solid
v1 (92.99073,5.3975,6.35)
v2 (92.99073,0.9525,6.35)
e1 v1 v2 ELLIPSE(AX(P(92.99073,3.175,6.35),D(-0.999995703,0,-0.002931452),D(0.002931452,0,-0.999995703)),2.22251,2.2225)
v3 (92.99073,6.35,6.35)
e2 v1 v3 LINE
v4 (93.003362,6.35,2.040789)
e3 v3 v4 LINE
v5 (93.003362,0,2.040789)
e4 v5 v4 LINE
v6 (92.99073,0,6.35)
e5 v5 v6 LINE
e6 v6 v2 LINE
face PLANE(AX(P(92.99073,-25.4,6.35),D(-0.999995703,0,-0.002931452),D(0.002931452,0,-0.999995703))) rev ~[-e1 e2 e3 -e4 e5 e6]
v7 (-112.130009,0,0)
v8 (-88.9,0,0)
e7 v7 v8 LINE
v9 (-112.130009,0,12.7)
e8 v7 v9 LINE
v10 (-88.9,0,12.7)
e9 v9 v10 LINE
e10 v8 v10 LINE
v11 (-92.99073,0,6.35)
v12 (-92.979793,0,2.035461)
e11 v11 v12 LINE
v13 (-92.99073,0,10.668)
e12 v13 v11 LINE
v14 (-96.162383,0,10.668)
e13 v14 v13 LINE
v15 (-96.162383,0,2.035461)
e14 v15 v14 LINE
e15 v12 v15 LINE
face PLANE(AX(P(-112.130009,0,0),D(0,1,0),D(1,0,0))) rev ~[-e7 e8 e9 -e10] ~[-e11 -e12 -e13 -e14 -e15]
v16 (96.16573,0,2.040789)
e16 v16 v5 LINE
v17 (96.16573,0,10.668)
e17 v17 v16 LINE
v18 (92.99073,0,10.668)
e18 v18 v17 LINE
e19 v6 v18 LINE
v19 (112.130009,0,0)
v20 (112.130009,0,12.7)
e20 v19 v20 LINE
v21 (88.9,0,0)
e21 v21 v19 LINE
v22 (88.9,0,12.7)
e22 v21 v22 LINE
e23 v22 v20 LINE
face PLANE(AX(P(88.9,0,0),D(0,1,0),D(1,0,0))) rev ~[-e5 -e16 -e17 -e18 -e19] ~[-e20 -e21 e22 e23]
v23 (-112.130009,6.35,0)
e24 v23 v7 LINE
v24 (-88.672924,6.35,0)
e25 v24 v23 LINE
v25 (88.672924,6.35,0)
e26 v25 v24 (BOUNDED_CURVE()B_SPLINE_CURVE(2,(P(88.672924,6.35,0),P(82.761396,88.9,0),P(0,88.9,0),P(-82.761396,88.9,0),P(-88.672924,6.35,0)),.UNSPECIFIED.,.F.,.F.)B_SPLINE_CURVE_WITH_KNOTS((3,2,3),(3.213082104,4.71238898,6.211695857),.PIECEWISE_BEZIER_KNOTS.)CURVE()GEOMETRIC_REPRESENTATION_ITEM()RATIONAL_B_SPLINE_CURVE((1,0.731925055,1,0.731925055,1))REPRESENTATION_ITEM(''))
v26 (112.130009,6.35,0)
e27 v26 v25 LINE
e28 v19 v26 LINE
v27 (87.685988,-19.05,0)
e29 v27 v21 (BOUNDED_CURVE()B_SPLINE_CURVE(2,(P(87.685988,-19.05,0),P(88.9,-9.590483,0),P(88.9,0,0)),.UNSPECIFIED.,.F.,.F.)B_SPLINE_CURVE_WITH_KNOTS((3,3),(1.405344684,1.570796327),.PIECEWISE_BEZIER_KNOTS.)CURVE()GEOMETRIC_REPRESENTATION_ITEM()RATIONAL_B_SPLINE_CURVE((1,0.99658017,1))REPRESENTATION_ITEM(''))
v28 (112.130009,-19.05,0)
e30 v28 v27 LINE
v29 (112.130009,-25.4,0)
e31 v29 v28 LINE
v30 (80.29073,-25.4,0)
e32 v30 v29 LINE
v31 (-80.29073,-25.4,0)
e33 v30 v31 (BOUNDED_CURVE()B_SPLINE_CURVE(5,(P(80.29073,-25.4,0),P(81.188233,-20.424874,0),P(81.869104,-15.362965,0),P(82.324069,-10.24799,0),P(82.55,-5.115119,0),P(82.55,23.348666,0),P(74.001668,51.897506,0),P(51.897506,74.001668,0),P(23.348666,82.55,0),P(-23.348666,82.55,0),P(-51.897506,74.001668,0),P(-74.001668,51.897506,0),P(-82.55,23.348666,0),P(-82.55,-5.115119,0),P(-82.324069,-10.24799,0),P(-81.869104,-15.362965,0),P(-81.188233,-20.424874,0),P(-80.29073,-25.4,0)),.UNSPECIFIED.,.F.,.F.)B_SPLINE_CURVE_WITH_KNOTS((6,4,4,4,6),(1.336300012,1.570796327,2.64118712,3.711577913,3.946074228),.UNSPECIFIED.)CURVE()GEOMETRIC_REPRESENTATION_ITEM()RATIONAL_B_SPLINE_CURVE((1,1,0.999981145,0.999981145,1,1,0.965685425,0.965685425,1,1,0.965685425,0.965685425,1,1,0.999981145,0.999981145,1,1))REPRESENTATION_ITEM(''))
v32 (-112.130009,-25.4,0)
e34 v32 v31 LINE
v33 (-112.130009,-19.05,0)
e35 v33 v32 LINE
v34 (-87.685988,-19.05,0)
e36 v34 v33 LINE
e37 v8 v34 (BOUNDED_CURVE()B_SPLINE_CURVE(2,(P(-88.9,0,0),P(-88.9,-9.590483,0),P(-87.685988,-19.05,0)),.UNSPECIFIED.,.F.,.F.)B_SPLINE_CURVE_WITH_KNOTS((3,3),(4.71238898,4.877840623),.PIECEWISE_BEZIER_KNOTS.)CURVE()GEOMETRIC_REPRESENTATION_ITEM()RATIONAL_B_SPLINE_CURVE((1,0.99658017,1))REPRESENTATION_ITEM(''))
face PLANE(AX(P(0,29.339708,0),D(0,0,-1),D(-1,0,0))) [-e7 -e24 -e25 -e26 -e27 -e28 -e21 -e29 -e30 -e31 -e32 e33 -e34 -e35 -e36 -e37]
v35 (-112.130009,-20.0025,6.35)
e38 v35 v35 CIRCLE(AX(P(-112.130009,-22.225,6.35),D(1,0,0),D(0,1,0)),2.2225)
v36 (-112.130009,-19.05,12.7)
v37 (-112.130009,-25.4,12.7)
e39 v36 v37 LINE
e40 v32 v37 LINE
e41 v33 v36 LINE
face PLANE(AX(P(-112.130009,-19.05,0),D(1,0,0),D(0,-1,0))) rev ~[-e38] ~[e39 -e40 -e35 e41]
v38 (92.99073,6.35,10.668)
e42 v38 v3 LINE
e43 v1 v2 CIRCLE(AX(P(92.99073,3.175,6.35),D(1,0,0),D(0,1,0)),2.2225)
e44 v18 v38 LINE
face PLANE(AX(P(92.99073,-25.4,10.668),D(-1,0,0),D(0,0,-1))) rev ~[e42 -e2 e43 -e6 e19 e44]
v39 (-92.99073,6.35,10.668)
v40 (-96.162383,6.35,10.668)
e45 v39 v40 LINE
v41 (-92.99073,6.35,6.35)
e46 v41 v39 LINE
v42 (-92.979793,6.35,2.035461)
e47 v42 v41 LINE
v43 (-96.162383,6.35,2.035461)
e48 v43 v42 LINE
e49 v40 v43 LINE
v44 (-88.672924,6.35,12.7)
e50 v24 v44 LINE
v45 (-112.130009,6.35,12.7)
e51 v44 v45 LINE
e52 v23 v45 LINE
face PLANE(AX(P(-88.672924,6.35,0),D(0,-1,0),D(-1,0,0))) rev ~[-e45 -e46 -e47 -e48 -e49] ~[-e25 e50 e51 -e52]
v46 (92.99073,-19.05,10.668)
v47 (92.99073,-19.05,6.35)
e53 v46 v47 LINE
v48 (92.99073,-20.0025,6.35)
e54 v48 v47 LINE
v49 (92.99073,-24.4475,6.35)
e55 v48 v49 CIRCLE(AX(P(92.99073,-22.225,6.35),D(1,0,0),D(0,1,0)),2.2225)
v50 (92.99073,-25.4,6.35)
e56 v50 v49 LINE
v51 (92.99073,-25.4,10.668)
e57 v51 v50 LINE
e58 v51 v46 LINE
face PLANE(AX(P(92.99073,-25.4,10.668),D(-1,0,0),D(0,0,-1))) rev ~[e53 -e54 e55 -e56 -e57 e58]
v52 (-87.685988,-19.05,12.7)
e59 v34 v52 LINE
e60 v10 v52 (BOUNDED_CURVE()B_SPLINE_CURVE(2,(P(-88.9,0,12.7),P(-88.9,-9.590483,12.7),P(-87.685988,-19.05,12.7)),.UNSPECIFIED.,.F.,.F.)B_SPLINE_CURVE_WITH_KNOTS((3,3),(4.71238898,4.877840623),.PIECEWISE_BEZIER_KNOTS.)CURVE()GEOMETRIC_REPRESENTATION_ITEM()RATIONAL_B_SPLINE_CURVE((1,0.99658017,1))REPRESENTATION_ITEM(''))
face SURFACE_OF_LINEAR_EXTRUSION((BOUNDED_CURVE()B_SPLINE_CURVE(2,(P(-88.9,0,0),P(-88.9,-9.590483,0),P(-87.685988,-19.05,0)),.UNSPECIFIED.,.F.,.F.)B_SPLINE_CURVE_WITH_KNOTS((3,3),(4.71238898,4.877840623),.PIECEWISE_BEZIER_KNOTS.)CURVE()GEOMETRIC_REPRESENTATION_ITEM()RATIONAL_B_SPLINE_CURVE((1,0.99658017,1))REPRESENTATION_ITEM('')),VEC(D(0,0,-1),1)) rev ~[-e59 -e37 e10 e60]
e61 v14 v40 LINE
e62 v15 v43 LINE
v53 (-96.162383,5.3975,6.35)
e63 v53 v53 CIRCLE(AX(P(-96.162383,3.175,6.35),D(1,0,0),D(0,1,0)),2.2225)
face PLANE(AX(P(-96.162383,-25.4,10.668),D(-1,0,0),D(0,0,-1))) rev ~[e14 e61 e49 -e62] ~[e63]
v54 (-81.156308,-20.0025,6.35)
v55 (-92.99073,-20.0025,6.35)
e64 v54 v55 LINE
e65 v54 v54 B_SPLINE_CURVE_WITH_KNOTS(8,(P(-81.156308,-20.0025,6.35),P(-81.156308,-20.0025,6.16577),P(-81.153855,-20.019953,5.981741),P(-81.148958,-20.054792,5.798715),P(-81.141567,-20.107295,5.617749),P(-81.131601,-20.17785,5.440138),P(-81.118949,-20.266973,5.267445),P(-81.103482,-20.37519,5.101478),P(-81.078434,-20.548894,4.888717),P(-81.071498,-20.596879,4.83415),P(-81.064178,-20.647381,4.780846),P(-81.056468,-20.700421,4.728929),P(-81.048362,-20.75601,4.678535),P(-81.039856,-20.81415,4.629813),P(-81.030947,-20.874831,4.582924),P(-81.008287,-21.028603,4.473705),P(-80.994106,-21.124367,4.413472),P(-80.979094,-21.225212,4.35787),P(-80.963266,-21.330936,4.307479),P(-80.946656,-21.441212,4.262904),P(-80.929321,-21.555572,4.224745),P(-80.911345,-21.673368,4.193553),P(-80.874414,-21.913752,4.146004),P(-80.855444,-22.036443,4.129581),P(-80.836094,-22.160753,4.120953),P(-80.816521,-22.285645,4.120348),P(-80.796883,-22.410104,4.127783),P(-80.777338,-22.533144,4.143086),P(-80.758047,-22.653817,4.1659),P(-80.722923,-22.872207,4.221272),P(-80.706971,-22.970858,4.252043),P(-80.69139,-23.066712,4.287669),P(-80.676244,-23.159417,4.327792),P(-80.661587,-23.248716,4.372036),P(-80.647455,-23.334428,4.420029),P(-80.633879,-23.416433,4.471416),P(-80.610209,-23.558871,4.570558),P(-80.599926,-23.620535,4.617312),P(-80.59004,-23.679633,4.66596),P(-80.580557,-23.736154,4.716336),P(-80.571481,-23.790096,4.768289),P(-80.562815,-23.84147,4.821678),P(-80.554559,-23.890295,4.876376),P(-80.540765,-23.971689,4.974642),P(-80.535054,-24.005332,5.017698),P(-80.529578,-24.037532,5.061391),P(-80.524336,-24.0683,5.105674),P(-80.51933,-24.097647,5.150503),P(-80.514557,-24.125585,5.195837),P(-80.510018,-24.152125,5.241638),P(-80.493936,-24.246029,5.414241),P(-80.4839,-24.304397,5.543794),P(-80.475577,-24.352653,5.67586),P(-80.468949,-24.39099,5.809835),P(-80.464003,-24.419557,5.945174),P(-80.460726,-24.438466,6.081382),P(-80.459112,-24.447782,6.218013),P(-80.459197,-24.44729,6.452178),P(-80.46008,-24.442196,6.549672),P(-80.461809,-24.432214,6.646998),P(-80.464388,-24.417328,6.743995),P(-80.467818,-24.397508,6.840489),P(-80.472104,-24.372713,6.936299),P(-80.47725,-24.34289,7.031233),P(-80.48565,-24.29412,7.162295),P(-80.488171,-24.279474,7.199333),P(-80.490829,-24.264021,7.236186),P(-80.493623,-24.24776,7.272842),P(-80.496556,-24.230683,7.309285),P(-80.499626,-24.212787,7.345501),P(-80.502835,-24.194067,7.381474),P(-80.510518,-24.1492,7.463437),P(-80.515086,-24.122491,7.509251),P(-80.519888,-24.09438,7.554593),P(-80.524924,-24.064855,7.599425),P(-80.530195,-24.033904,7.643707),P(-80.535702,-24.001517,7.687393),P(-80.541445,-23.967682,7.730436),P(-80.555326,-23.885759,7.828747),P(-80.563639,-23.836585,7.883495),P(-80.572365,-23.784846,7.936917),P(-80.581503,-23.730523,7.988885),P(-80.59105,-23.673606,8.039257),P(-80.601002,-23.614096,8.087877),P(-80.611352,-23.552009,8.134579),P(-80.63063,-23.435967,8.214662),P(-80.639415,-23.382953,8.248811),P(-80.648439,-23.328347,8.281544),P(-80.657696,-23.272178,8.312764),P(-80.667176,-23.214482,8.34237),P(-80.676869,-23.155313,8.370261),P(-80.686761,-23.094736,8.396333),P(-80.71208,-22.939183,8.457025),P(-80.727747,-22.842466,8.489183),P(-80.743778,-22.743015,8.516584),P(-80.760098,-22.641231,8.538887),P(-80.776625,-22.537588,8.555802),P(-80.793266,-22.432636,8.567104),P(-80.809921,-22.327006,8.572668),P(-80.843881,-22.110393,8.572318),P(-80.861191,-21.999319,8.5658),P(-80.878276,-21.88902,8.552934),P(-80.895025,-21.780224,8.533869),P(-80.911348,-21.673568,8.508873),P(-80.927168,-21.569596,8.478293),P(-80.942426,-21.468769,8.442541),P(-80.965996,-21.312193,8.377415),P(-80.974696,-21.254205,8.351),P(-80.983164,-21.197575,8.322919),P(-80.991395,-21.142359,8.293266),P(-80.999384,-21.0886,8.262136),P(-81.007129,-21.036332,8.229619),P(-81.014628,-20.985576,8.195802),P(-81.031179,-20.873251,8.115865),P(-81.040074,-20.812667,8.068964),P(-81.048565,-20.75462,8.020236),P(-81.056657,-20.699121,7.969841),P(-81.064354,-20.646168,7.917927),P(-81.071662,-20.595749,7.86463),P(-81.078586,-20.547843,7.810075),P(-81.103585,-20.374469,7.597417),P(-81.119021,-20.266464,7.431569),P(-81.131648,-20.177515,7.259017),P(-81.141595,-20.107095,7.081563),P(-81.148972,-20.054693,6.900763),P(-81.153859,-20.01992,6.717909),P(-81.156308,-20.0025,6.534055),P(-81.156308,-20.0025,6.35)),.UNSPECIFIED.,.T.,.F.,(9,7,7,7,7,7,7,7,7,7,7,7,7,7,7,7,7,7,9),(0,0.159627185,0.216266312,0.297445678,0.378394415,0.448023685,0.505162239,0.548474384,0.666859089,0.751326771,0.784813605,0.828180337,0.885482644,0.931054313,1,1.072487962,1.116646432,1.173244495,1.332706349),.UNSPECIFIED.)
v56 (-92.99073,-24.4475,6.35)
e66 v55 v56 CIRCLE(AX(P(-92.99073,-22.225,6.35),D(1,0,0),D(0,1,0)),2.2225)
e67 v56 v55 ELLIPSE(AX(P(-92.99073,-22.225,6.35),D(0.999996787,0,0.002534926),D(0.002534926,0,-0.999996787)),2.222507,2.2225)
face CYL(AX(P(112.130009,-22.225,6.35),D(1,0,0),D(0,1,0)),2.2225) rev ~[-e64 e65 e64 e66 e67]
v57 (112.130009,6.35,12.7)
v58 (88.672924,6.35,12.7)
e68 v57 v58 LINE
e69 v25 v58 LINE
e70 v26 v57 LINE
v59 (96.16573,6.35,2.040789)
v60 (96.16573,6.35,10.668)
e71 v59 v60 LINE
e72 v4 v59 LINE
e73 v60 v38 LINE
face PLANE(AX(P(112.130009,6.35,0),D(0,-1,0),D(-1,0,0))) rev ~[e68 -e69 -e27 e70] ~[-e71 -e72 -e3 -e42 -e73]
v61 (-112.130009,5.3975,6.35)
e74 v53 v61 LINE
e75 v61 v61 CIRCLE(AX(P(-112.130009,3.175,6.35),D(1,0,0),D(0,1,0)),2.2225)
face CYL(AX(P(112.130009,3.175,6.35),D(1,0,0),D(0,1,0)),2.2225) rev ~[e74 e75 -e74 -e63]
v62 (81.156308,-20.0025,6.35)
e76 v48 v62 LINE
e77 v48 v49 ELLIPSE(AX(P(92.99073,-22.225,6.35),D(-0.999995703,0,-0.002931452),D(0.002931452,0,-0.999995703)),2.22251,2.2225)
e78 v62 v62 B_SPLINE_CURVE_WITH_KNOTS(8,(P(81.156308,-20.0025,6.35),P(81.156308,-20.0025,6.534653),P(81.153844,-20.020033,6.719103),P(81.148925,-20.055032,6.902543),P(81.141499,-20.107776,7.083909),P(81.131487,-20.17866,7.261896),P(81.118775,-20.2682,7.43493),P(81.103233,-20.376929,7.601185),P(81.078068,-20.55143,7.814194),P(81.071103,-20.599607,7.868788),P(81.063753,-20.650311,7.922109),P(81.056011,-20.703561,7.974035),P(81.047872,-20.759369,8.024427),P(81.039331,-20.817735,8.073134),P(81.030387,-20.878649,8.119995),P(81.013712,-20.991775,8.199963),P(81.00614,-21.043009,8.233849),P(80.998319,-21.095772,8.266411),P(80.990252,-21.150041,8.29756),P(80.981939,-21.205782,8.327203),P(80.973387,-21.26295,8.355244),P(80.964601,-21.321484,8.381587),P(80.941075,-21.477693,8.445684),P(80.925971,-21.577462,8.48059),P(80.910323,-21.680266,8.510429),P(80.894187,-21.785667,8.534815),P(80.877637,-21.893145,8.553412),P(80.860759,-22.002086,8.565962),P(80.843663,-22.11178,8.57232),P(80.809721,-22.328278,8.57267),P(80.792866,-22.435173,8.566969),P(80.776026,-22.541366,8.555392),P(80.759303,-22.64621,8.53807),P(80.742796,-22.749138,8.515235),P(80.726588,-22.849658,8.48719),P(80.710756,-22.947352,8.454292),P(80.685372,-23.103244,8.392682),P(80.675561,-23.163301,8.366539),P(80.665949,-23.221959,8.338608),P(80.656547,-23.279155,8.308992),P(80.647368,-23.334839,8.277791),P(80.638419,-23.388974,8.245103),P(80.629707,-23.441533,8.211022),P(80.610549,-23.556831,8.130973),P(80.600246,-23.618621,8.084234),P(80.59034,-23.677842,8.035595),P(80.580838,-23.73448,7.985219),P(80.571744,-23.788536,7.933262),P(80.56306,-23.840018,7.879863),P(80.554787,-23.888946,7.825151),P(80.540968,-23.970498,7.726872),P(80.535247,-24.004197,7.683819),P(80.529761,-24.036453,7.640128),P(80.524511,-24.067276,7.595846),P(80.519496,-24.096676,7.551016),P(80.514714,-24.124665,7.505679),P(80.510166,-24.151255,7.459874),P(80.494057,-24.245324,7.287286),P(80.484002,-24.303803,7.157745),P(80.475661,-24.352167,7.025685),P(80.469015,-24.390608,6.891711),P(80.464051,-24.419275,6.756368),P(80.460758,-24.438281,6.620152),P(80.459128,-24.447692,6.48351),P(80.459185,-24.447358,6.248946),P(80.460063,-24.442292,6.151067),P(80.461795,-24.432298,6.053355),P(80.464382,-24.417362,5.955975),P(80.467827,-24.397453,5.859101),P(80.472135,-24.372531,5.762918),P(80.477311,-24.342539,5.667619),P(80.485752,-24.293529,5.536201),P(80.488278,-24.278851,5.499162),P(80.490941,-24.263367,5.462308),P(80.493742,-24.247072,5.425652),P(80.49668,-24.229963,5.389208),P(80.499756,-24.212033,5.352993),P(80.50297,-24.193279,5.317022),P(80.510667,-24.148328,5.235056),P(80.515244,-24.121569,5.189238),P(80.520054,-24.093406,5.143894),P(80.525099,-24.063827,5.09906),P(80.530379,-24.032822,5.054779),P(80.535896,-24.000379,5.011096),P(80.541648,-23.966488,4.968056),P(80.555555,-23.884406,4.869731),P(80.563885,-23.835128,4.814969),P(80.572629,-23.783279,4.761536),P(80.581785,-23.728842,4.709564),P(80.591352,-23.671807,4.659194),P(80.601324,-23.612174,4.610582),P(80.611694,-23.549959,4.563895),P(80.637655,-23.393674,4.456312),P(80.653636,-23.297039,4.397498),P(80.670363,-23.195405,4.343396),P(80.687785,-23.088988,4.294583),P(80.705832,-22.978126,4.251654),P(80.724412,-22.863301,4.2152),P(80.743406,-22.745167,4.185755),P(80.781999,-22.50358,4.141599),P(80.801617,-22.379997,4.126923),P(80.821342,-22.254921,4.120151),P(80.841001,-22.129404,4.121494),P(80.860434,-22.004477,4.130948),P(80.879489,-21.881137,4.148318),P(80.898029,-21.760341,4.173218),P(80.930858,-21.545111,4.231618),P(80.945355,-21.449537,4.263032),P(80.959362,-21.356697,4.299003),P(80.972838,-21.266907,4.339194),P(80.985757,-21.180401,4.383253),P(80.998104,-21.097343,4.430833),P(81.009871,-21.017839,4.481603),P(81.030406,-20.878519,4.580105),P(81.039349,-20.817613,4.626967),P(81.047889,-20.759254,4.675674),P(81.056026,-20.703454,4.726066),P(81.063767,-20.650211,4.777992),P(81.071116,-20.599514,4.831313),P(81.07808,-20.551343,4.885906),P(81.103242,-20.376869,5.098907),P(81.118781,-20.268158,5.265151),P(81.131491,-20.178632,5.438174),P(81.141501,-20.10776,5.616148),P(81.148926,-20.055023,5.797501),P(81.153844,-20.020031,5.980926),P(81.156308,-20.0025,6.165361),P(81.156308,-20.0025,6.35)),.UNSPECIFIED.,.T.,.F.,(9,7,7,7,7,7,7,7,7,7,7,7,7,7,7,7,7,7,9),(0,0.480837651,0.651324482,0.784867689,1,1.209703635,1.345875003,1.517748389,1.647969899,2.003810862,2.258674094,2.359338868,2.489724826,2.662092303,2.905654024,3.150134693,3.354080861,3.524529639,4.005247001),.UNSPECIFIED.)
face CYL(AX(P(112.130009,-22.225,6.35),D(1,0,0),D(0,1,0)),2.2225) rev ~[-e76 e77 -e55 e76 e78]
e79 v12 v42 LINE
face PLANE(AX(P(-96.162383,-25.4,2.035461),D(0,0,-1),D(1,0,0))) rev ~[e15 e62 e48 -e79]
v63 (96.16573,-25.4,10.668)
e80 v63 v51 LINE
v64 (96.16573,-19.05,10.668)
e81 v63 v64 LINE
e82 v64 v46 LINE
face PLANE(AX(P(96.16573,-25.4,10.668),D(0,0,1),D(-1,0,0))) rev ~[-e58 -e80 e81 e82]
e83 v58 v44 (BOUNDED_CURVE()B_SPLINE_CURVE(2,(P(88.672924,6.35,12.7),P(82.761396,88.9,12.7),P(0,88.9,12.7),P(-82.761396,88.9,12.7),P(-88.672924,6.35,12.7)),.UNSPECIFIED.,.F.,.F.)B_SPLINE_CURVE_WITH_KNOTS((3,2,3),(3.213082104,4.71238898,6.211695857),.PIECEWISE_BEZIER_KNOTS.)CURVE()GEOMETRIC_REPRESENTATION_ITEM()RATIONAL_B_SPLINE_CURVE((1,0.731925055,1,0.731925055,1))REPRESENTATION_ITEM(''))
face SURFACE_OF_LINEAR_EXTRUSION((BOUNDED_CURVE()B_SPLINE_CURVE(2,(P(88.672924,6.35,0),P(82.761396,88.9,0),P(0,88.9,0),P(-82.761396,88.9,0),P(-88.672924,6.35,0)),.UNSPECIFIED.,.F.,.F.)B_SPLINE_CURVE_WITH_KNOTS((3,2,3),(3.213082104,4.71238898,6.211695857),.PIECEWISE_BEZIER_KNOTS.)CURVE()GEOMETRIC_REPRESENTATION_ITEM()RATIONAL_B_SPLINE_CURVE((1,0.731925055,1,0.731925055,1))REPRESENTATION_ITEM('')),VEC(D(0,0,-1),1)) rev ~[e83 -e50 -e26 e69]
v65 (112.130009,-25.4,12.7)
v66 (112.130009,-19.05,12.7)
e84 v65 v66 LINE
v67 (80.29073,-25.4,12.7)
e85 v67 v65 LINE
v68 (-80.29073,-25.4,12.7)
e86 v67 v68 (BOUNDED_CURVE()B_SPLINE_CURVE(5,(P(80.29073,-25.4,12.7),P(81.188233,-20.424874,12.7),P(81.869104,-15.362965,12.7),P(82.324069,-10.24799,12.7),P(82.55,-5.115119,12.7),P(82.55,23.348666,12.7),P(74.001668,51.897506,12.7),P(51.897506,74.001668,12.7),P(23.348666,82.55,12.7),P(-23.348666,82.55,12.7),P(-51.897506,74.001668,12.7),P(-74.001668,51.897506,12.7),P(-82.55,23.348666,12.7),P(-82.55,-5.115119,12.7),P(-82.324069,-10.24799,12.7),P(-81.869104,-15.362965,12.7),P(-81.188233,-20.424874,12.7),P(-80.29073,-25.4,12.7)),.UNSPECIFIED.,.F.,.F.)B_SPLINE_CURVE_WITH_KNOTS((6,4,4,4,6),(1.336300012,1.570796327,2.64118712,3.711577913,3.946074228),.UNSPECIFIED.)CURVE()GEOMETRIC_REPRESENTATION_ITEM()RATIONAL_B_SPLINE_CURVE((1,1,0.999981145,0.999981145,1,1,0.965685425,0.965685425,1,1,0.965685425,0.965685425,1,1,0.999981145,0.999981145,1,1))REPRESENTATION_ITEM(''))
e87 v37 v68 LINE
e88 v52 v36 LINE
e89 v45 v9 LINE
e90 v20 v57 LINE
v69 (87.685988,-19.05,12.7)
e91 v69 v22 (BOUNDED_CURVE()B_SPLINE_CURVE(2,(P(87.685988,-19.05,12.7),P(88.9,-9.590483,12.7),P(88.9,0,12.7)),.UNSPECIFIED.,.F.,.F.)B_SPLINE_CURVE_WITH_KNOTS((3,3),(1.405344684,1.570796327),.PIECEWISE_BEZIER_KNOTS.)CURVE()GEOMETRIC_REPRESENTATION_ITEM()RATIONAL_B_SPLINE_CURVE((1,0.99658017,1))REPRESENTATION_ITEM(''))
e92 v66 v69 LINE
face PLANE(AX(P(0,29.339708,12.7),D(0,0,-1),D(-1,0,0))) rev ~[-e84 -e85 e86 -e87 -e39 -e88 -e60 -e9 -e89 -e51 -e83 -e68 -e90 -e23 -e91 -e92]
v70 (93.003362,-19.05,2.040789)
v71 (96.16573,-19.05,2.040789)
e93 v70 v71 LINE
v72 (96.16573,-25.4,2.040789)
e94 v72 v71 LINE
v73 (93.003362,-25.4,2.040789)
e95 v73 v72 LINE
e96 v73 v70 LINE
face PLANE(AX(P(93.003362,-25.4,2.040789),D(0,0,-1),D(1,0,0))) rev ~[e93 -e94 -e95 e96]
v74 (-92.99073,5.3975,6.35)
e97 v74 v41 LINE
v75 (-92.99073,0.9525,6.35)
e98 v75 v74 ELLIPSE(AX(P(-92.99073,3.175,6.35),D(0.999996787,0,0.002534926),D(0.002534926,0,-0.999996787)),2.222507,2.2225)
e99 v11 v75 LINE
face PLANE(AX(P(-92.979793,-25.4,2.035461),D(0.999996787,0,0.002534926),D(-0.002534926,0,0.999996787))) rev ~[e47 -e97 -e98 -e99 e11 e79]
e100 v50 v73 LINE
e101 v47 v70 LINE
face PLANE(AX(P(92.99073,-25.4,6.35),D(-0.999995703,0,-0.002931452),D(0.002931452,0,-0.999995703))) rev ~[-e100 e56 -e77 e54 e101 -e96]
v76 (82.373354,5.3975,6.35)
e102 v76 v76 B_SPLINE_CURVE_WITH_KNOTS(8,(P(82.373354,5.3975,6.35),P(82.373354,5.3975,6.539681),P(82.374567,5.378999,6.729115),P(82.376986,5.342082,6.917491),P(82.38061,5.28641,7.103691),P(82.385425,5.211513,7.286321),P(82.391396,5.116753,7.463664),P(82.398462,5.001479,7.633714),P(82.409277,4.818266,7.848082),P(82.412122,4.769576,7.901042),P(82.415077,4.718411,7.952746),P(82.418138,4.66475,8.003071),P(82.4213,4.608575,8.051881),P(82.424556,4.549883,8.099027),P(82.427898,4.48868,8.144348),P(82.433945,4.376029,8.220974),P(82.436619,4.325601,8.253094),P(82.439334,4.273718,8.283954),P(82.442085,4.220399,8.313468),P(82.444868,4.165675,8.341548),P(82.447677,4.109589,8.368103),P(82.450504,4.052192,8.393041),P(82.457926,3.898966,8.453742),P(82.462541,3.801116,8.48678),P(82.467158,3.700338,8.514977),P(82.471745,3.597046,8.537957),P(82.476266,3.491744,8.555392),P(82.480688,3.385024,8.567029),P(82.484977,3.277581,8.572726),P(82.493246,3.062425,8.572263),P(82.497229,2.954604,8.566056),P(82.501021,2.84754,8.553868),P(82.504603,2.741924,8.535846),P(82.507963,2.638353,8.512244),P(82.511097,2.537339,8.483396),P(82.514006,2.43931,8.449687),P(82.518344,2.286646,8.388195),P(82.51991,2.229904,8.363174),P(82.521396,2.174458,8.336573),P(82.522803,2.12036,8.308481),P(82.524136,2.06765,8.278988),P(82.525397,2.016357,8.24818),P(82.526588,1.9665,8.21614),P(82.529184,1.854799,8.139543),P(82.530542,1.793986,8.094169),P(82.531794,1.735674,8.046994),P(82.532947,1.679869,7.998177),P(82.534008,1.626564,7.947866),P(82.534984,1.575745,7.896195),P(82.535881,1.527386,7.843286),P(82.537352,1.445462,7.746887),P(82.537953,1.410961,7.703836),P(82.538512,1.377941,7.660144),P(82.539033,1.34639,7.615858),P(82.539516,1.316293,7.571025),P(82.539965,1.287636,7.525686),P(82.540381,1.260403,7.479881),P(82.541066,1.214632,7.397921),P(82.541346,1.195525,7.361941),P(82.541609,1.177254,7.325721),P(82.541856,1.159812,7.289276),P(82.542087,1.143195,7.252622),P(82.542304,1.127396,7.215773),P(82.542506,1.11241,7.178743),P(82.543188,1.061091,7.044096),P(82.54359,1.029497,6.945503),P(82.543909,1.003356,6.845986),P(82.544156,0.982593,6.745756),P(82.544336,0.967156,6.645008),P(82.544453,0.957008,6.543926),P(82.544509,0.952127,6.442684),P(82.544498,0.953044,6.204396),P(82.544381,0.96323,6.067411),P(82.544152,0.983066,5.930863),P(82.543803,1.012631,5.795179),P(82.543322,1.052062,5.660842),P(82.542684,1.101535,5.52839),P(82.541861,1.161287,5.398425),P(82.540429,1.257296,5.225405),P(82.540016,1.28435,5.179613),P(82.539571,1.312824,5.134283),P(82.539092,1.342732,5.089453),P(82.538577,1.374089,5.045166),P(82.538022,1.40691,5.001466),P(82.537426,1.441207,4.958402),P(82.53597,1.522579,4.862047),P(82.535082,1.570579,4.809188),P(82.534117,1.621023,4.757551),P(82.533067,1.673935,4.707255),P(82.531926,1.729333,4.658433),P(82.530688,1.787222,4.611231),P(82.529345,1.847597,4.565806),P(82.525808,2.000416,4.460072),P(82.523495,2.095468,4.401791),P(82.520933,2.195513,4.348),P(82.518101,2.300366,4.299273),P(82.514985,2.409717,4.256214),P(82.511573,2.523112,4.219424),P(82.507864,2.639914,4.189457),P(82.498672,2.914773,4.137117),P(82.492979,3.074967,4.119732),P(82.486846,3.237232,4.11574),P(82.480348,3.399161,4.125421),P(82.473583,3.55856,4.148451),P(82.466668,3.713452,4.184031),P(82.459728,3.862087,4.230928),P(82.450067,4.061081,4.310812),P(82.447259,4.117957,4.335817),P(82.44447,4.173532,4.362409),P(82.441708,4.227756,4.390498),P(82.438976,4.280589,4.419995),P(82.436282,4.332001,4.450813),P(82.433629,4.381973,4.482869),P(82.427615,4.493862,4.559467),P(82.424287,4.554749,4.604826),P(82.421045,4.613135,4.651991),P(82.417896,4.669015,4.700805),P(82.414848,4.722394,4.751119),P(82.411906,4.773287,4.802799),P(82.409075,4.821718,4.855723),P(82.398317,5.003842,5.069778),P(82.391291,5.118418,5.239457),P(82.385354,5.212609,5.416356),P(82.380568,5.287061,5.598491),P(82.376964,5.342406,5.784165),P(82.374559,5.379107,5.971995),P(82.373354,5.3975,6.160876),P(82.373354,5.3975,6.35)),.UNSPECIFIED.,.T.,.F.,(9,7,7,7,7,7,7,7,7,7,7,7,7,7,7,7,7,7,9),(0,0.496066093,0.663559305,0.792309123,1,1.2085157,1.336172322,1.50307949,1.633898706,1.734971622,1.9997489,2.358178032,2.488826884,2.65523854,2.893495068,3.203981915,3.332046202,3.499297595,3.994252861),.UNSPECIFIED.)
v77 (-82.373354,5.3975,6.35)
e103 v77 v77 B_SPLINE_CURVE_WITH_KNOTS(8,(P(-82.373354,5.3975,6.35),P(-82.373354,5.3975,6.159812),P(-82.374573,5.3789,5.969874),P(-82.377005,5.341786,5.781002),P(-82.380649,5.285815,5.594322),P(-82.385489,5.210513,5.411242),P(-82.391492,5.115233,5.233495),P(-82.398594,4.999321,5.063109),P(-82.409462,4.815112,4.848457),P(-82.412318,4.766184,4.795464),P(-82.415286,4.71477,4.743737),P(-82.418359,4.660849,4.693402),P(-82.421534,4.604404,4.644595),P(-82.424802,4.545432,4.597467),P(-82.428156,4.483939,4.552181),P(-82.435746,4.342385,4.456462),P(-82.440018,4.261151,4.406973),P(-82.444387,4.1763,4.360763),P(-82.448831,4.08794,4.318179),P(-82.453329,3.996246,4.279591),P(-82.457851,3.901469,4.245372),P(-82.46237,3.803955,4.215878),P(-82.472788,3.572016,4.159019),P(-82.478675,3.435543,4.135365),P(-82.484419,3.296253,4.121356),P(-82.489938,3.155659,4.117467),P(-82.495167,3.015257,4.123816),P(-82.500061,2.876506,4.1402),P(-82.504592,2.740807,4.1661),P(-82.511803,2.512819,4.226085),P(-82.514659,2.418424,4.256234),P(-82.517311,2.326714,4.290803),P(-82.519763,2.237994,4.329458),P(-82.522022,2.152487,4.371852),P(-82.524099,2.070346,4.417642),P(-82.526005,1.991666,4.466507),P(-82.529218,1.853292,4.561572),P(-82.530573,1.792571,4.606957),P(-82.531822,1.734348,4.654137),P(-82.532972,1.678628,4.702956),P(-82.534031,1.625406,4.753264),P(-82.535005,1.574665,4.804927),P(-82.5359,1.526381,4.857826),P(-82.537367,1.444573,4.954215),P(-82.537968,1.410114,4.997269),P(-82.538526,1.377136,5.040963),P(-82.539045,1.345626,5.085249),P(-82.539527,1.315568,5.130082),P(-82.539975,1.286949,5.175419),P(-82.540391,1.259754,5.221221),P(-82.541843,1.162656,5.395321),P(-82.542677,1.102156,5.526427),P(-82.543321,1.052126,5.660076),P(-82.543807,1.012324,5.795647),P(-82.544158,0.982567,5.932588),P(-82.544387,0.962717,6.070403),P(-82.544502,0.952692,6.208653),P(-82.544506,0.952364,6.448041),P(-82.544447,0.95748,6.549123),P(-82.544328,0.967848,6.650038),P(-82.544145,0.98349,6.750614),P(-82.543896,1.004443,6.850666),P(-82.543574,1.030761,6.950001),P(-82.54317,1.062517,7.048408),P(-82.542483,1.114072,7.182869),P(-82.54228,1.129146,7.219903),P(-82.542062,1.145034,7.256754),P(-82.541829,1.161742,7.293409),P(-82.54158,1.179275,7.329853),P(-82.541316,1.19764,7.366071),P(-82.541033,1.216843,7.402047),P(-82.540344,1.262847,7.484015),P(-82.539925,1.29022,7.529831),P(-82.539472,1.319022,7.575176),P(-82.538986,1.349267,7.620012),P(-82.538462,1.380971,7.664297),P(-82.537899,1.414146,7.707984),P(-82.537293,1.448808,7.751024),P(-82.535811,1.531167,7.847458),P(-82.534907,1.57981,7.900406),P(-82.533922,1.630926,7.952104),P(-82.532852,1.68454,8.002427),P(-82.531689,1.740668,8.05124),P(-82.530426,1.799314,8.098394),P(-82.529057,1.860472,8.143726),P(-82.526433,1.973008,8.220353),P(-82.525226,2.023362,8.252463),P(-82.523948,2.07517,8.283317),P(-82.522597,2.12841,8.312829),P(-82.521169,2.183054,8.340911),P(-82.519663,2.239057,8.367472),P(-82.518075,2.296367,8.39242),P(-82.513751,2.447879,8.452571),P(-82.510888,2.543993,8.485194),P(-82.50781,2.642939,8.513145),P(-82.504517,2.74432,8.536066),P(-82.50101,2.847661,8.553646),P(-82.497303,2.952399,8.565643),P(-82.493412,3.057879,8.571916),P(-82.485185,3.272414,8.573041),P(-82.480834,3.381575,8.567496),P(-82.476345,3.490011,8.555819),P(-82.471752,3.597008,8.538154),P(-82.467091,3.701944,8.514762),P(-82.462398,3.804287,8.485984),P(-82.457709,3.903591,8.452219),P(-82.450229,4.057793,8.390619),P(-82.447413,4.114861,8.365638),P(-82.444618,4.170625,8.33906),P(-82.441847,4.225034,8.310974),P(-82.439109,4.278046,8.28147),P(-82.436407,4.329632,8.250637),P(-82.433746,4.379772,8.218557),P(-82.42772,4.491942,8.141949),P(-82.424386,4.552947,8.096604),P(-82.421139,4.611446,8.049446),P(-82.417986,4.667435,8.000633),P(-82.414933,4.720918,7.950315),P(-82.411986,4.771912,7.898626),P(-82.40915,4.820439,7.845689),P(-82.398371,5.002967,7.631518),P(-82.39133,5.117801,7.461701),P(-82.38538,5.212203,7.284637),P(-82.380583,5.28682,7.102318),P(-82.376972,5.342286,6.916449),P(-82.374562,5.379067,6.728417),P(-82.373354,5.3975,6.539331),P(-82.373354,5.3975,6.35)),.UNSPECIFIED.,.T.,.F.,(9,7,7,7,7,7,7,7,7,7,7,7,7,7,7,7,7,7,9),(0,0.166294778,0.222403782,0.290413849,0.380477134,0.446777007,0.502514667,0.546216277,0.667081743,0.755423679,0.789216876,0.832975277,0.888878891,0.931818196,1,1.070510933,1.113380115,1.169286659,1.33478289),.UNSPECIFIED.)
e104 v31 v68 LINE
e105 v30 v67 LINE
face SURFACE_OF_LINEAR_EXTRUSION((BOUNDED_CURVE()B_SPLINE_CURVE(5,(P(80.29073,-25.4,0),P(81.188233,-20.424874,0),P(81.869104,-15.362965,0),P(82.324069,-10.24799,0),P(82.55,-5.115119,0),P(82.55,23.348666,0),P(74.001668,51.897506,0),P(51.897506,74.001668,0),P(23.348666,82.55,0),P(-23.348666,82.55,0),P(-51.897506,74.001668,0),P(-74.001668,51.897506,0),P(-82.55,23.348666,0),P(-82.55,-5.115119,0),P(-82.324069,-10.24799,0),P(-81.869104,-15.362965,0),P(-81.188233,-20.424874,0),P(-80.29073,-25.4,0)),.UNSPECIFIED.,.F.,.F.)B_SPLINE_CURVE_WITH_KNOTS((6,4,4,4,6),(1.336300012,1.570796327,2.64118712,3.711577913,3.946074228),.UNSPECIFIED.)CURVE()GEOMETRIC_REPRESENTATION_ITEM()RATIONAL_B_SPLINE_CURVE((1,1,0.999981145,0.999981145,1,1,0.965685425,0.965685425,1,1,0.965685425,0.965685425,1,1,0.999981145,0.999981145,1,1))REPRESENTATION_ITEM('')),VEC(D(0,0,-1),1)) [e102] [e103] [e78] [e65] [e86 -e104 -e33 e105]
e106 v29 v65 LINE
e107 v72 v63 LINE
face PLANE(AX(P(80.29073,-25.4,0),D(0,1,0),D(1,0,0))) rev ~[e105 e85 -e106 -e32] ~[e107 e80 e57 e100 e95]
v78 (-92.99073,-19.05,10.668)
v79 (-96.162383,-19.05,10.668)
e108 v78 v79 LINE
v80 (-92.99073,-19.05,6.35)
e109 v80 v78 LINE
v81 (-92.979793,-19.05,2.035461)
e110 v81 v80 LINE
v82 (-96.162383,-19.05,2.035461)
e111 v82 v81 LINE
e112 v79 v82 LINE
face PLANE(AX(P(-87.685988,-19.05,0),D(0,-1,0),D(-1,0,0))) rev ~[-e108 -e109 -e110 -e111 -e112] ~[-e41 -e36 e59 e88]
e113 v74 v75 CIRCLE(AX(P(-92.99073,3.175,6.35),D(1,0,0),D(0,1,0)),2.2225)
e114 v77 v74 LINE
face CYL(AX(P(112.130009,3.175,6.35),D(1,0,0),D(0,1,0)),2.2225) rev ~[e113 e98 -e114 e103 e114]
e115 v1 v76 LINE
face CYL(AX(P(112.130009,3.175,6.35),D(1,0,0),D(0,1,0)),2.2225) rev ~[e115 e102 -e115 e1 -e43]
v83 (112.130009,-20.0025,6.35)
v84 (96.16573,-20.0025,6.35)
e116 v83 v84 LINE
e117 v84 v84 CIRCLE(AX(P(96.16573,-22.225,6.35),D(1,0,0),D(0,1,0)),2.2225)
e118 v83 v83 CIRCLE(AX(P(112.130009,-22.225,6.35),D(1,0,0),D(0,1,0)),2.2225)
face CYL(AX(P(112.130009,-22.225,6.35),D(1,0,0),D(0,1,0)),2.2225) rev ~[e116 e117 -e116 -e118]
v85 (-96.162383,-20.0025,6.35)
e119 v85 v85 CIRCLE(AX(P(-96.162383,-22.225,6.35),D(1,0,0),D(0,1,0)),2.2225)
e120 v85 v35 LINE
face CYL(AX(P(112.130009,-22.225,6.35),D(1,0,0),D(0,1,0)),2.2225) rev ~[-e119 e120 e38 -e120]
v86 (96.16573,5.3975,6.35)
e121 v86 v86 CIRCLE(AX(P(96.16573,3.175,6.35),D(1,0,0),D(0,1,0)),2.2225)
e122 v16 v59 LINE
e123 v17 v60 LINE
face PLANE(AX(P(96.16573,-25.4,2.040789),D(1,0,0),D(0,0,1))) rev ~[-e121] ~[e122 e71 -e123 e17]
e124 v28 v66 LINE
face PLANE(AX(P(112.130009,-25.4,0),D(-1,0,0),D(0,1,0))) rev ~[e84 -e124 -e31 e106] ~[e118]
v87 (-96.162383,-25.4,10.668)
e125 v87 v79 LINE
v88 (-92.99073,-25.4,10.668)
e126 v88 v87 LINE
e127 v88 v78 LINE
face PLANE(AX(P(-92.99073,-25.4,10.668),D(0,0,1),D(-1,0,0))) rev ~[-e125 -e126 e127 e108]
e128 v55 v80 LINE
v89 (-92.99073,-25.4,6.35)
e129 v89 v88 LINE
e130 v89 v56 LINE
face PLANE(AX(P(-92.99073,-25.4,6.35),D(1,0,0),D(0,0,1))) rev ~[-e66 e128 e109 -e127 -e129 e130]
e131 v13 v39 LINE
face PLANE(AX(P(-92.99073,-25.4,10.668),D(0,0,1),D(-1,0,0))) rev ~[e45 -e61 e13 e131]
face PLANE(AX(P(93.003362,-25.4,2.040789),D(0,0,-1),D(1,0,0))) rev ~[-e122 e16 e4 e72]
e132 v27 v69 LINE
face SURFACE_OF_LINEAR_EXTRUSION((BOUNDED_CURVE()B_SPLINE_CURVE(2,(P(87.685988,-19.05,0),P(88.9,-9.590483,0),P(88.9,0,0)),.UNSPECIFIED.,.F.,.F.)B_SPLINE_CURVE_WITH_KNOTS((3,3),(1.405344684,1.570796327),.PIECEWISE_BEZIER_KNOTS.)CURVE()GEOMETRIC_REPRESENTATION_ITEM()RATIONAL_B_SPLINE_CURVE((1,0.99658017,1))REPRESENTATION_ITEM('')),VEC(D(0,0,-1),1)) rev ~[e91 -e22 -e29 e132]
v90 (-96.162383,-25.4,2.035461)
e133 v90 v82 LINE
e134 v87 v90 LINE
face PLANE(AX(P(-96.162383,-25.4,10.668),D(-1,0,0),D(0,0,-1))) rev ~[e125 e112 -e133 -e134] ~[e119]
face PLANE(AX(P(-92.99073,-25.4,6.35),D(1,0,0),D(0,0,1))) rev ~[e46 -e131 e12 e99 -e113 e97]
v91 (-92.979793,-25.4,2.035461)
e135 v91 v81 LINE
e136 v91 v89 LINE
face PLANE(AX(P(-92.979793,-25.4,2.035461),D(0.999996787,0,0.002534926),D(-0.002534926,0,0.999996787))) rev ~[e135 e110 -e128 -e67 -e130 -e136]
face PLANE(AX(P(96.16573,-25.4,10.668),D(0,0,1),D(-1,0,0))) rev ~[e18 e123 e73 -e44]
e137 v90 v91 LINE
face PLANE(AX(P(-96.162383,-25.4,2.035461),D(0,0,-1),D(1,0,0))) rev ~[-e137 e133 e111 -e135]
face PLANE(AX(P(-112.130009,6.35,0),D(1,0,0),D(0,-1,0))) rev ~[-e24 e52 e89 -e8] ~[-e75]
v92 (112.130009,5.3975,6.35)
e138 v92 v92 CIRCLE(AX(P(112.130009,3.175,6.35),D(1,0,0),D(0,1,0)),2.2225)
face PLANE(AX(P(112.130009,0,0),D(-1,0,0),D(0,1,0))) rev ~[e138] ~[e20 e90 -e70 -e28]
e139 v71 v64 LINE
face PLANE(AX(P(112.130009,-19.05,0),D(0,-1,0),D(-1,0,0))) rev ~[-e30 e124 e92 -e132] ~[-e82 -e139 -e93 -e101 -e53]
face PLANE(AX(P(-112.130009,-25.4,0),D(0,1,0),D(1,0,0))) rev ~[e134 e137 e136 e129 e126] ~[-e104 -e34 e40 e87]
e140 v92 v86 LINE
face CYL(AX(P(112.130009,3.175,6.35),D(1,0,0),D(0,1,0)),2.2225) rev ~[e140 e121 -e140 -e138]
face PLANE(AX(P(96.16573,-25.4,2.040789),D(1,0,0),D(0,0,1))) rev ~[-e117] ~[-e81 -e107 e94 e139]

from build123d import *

# Parameters (mm, degrees)
F1_DEPTH = 12.7
F2_R     = 2.2225
F3_DEPTH = 224.2610175194
F5_DEPTH = 114.3010001
F7_DEPTH = 114.3010001


with BuildPart() as f1:
    # F0 (on Top) → F1 (new body)
    with BuildSketch(Plane.XY):
        with BuildLine():
            add(Edge.make_bspline(
                [(82.55, 0), (82.55, 82.55), (0, 82.55), (-82.55, 82.55), (-82.55, 0)],
                knots=[3.1415926536, 3.1415926536, 3.1415926536, 4.7123889804, 4.7123889804, 6.2831853072, 6.2831853072, 6.2831853072], degree=2, weights=[1, 0.7071067812, 1, 0.7071067812, 1]))
            add(Edge.make_bspline(
                [(80.2907301186, -25.4), (82.55, -12.876201172), (82.55, 0)],
                knots=[1.3363000119, 1.3363000119, 1.3363000119, 1.5707963268, 1.5707963268, 1.5707963268], degree=2, weights=[1, 0.9931343055, 1]))
            Line((80.2907301186, -25.4), (86.7300087097, -25.4))
            Line((86.7300087097, -25.4), (112.1300087097, -25.4))
            Line((112.1300087097, -25.4), (112.1300087097, -19.05))
            Line((112.1300087097, -19.05), (87.6859879403, -19.05))
            add(Edge.make_bspline(
                [(87.6859879403, -19.05), (88.9, -9.5904834792), (88.9, 0)],
                knots=[1.4053446837, 1.4053446837, 1.4053446837, 1.5707963268, 1.5707963268, 1.5707963268], degree=2, weights=[1, 0.9965801702, 1]))
            Line((88.9, 0), (112.1300087097, 0))
            Line((112.1300087097, 0), (112.1300087097, 6.35))
            Line((112.1300087097, 6.35), (88.6729242779, 6.35))
            add(Edge.make_bspline(
                [(88.6729242779, 6.35), (82.7613959927, 88.9), (0, 88.9), (-82.7613959927, 88.9), (-88.6729242779, 6.35)],
                knots=[3.2130821035, 3.2130821035, 3.2130821035, 4.7123889804, 4.7123889804, 6.2116958573, 6.2116958573, 6.2116958573], degree=2, weights=[1, 0.7319250547, 1, 0.7319250547, 1]))
            Line((-88.6729242779, 6.35), (-112.1300087097, 6.35))
            Line((-112.1300087097, 6.35), (-112.1300087097, 0))
            Line((-112.1300087097, 0), (-88.9, 0))
            add(Edge.make_bspline(
                [(-88.9, 0), (-88.9, -9.5904834792), (-87.6859879403, -19.05)],
                knots=[4.7123889804, 4.7123889804, 4.7123889804, 4.8778406234, 4.8778406234, 4.8778406234], degree=2, weights=[1, 0.9965801702, 1]))
            Line((-87.6859879403, -19.05), (-112.1300087097, -19.05))
            Line((-112.1300087097, -19.05), (-112.1300087097, -25.4))
            Line((-112.1300087097, -25.4), (-86.7300087097, -25.4))
            Line((-86.7300087097, -25.4), (-80.2907301186, -25.4))
            add(Edge.make_bspline(
                [(-82.55, 0), (-82.55, -12.876201172), (-80.2907301186, -25.4)],
                knots=[4.7123889804, 4.7123889804, 4.7123889804, 4.9468852953, 4.9468852953, 4.9468852953], degree=2, weights=[1, 0.9931343055, 1]))
        make_face()
    extrude(amount=F1_DEPTH)

    # F2 (on face) → F3 (cut, through all)
    with BuildSketch(Plane.YZ.offset(112.1300087097)):
        with Locations((-22.225, 6.35)):
            Circle(F2_R)
        with Locations((3.175, 6.35)):
            Circle(F2_R)
    extrude(amount=-F3_DEPTH, mode=Mode.SUBTRACT)

    # F4 (on face) → F5 (cut, through all)
    with BuildSketch(Plane.XZ.offset(25.4)):
        Polygon((-92.9797930479, 2.0354613662), (-92.9907301186, 6.35), (-92.9907301186, 10.668), (-96.1623830557, 10.668), (-96.1623830557, 2.0354613662), align=None)
    extrude(amount=-F5_DEPTH, mode=Mode.SUBTRACT)

    # F6 (on face) → F7 (cut, through all)
    with BuildSketch(Plane.XZ.offset(25.4)):
        Polygon((92.9907301186, 10.668), (92.9907301186, 6.35), (93.0033624172, 2.0407887641), (96.1657301186, 2.0407887641), (96.1657301186, 10.668), align=None)
    extrude(amount=-F7_DEPTH, mode=Mode.SUBTRACT)


solid = f1.part
